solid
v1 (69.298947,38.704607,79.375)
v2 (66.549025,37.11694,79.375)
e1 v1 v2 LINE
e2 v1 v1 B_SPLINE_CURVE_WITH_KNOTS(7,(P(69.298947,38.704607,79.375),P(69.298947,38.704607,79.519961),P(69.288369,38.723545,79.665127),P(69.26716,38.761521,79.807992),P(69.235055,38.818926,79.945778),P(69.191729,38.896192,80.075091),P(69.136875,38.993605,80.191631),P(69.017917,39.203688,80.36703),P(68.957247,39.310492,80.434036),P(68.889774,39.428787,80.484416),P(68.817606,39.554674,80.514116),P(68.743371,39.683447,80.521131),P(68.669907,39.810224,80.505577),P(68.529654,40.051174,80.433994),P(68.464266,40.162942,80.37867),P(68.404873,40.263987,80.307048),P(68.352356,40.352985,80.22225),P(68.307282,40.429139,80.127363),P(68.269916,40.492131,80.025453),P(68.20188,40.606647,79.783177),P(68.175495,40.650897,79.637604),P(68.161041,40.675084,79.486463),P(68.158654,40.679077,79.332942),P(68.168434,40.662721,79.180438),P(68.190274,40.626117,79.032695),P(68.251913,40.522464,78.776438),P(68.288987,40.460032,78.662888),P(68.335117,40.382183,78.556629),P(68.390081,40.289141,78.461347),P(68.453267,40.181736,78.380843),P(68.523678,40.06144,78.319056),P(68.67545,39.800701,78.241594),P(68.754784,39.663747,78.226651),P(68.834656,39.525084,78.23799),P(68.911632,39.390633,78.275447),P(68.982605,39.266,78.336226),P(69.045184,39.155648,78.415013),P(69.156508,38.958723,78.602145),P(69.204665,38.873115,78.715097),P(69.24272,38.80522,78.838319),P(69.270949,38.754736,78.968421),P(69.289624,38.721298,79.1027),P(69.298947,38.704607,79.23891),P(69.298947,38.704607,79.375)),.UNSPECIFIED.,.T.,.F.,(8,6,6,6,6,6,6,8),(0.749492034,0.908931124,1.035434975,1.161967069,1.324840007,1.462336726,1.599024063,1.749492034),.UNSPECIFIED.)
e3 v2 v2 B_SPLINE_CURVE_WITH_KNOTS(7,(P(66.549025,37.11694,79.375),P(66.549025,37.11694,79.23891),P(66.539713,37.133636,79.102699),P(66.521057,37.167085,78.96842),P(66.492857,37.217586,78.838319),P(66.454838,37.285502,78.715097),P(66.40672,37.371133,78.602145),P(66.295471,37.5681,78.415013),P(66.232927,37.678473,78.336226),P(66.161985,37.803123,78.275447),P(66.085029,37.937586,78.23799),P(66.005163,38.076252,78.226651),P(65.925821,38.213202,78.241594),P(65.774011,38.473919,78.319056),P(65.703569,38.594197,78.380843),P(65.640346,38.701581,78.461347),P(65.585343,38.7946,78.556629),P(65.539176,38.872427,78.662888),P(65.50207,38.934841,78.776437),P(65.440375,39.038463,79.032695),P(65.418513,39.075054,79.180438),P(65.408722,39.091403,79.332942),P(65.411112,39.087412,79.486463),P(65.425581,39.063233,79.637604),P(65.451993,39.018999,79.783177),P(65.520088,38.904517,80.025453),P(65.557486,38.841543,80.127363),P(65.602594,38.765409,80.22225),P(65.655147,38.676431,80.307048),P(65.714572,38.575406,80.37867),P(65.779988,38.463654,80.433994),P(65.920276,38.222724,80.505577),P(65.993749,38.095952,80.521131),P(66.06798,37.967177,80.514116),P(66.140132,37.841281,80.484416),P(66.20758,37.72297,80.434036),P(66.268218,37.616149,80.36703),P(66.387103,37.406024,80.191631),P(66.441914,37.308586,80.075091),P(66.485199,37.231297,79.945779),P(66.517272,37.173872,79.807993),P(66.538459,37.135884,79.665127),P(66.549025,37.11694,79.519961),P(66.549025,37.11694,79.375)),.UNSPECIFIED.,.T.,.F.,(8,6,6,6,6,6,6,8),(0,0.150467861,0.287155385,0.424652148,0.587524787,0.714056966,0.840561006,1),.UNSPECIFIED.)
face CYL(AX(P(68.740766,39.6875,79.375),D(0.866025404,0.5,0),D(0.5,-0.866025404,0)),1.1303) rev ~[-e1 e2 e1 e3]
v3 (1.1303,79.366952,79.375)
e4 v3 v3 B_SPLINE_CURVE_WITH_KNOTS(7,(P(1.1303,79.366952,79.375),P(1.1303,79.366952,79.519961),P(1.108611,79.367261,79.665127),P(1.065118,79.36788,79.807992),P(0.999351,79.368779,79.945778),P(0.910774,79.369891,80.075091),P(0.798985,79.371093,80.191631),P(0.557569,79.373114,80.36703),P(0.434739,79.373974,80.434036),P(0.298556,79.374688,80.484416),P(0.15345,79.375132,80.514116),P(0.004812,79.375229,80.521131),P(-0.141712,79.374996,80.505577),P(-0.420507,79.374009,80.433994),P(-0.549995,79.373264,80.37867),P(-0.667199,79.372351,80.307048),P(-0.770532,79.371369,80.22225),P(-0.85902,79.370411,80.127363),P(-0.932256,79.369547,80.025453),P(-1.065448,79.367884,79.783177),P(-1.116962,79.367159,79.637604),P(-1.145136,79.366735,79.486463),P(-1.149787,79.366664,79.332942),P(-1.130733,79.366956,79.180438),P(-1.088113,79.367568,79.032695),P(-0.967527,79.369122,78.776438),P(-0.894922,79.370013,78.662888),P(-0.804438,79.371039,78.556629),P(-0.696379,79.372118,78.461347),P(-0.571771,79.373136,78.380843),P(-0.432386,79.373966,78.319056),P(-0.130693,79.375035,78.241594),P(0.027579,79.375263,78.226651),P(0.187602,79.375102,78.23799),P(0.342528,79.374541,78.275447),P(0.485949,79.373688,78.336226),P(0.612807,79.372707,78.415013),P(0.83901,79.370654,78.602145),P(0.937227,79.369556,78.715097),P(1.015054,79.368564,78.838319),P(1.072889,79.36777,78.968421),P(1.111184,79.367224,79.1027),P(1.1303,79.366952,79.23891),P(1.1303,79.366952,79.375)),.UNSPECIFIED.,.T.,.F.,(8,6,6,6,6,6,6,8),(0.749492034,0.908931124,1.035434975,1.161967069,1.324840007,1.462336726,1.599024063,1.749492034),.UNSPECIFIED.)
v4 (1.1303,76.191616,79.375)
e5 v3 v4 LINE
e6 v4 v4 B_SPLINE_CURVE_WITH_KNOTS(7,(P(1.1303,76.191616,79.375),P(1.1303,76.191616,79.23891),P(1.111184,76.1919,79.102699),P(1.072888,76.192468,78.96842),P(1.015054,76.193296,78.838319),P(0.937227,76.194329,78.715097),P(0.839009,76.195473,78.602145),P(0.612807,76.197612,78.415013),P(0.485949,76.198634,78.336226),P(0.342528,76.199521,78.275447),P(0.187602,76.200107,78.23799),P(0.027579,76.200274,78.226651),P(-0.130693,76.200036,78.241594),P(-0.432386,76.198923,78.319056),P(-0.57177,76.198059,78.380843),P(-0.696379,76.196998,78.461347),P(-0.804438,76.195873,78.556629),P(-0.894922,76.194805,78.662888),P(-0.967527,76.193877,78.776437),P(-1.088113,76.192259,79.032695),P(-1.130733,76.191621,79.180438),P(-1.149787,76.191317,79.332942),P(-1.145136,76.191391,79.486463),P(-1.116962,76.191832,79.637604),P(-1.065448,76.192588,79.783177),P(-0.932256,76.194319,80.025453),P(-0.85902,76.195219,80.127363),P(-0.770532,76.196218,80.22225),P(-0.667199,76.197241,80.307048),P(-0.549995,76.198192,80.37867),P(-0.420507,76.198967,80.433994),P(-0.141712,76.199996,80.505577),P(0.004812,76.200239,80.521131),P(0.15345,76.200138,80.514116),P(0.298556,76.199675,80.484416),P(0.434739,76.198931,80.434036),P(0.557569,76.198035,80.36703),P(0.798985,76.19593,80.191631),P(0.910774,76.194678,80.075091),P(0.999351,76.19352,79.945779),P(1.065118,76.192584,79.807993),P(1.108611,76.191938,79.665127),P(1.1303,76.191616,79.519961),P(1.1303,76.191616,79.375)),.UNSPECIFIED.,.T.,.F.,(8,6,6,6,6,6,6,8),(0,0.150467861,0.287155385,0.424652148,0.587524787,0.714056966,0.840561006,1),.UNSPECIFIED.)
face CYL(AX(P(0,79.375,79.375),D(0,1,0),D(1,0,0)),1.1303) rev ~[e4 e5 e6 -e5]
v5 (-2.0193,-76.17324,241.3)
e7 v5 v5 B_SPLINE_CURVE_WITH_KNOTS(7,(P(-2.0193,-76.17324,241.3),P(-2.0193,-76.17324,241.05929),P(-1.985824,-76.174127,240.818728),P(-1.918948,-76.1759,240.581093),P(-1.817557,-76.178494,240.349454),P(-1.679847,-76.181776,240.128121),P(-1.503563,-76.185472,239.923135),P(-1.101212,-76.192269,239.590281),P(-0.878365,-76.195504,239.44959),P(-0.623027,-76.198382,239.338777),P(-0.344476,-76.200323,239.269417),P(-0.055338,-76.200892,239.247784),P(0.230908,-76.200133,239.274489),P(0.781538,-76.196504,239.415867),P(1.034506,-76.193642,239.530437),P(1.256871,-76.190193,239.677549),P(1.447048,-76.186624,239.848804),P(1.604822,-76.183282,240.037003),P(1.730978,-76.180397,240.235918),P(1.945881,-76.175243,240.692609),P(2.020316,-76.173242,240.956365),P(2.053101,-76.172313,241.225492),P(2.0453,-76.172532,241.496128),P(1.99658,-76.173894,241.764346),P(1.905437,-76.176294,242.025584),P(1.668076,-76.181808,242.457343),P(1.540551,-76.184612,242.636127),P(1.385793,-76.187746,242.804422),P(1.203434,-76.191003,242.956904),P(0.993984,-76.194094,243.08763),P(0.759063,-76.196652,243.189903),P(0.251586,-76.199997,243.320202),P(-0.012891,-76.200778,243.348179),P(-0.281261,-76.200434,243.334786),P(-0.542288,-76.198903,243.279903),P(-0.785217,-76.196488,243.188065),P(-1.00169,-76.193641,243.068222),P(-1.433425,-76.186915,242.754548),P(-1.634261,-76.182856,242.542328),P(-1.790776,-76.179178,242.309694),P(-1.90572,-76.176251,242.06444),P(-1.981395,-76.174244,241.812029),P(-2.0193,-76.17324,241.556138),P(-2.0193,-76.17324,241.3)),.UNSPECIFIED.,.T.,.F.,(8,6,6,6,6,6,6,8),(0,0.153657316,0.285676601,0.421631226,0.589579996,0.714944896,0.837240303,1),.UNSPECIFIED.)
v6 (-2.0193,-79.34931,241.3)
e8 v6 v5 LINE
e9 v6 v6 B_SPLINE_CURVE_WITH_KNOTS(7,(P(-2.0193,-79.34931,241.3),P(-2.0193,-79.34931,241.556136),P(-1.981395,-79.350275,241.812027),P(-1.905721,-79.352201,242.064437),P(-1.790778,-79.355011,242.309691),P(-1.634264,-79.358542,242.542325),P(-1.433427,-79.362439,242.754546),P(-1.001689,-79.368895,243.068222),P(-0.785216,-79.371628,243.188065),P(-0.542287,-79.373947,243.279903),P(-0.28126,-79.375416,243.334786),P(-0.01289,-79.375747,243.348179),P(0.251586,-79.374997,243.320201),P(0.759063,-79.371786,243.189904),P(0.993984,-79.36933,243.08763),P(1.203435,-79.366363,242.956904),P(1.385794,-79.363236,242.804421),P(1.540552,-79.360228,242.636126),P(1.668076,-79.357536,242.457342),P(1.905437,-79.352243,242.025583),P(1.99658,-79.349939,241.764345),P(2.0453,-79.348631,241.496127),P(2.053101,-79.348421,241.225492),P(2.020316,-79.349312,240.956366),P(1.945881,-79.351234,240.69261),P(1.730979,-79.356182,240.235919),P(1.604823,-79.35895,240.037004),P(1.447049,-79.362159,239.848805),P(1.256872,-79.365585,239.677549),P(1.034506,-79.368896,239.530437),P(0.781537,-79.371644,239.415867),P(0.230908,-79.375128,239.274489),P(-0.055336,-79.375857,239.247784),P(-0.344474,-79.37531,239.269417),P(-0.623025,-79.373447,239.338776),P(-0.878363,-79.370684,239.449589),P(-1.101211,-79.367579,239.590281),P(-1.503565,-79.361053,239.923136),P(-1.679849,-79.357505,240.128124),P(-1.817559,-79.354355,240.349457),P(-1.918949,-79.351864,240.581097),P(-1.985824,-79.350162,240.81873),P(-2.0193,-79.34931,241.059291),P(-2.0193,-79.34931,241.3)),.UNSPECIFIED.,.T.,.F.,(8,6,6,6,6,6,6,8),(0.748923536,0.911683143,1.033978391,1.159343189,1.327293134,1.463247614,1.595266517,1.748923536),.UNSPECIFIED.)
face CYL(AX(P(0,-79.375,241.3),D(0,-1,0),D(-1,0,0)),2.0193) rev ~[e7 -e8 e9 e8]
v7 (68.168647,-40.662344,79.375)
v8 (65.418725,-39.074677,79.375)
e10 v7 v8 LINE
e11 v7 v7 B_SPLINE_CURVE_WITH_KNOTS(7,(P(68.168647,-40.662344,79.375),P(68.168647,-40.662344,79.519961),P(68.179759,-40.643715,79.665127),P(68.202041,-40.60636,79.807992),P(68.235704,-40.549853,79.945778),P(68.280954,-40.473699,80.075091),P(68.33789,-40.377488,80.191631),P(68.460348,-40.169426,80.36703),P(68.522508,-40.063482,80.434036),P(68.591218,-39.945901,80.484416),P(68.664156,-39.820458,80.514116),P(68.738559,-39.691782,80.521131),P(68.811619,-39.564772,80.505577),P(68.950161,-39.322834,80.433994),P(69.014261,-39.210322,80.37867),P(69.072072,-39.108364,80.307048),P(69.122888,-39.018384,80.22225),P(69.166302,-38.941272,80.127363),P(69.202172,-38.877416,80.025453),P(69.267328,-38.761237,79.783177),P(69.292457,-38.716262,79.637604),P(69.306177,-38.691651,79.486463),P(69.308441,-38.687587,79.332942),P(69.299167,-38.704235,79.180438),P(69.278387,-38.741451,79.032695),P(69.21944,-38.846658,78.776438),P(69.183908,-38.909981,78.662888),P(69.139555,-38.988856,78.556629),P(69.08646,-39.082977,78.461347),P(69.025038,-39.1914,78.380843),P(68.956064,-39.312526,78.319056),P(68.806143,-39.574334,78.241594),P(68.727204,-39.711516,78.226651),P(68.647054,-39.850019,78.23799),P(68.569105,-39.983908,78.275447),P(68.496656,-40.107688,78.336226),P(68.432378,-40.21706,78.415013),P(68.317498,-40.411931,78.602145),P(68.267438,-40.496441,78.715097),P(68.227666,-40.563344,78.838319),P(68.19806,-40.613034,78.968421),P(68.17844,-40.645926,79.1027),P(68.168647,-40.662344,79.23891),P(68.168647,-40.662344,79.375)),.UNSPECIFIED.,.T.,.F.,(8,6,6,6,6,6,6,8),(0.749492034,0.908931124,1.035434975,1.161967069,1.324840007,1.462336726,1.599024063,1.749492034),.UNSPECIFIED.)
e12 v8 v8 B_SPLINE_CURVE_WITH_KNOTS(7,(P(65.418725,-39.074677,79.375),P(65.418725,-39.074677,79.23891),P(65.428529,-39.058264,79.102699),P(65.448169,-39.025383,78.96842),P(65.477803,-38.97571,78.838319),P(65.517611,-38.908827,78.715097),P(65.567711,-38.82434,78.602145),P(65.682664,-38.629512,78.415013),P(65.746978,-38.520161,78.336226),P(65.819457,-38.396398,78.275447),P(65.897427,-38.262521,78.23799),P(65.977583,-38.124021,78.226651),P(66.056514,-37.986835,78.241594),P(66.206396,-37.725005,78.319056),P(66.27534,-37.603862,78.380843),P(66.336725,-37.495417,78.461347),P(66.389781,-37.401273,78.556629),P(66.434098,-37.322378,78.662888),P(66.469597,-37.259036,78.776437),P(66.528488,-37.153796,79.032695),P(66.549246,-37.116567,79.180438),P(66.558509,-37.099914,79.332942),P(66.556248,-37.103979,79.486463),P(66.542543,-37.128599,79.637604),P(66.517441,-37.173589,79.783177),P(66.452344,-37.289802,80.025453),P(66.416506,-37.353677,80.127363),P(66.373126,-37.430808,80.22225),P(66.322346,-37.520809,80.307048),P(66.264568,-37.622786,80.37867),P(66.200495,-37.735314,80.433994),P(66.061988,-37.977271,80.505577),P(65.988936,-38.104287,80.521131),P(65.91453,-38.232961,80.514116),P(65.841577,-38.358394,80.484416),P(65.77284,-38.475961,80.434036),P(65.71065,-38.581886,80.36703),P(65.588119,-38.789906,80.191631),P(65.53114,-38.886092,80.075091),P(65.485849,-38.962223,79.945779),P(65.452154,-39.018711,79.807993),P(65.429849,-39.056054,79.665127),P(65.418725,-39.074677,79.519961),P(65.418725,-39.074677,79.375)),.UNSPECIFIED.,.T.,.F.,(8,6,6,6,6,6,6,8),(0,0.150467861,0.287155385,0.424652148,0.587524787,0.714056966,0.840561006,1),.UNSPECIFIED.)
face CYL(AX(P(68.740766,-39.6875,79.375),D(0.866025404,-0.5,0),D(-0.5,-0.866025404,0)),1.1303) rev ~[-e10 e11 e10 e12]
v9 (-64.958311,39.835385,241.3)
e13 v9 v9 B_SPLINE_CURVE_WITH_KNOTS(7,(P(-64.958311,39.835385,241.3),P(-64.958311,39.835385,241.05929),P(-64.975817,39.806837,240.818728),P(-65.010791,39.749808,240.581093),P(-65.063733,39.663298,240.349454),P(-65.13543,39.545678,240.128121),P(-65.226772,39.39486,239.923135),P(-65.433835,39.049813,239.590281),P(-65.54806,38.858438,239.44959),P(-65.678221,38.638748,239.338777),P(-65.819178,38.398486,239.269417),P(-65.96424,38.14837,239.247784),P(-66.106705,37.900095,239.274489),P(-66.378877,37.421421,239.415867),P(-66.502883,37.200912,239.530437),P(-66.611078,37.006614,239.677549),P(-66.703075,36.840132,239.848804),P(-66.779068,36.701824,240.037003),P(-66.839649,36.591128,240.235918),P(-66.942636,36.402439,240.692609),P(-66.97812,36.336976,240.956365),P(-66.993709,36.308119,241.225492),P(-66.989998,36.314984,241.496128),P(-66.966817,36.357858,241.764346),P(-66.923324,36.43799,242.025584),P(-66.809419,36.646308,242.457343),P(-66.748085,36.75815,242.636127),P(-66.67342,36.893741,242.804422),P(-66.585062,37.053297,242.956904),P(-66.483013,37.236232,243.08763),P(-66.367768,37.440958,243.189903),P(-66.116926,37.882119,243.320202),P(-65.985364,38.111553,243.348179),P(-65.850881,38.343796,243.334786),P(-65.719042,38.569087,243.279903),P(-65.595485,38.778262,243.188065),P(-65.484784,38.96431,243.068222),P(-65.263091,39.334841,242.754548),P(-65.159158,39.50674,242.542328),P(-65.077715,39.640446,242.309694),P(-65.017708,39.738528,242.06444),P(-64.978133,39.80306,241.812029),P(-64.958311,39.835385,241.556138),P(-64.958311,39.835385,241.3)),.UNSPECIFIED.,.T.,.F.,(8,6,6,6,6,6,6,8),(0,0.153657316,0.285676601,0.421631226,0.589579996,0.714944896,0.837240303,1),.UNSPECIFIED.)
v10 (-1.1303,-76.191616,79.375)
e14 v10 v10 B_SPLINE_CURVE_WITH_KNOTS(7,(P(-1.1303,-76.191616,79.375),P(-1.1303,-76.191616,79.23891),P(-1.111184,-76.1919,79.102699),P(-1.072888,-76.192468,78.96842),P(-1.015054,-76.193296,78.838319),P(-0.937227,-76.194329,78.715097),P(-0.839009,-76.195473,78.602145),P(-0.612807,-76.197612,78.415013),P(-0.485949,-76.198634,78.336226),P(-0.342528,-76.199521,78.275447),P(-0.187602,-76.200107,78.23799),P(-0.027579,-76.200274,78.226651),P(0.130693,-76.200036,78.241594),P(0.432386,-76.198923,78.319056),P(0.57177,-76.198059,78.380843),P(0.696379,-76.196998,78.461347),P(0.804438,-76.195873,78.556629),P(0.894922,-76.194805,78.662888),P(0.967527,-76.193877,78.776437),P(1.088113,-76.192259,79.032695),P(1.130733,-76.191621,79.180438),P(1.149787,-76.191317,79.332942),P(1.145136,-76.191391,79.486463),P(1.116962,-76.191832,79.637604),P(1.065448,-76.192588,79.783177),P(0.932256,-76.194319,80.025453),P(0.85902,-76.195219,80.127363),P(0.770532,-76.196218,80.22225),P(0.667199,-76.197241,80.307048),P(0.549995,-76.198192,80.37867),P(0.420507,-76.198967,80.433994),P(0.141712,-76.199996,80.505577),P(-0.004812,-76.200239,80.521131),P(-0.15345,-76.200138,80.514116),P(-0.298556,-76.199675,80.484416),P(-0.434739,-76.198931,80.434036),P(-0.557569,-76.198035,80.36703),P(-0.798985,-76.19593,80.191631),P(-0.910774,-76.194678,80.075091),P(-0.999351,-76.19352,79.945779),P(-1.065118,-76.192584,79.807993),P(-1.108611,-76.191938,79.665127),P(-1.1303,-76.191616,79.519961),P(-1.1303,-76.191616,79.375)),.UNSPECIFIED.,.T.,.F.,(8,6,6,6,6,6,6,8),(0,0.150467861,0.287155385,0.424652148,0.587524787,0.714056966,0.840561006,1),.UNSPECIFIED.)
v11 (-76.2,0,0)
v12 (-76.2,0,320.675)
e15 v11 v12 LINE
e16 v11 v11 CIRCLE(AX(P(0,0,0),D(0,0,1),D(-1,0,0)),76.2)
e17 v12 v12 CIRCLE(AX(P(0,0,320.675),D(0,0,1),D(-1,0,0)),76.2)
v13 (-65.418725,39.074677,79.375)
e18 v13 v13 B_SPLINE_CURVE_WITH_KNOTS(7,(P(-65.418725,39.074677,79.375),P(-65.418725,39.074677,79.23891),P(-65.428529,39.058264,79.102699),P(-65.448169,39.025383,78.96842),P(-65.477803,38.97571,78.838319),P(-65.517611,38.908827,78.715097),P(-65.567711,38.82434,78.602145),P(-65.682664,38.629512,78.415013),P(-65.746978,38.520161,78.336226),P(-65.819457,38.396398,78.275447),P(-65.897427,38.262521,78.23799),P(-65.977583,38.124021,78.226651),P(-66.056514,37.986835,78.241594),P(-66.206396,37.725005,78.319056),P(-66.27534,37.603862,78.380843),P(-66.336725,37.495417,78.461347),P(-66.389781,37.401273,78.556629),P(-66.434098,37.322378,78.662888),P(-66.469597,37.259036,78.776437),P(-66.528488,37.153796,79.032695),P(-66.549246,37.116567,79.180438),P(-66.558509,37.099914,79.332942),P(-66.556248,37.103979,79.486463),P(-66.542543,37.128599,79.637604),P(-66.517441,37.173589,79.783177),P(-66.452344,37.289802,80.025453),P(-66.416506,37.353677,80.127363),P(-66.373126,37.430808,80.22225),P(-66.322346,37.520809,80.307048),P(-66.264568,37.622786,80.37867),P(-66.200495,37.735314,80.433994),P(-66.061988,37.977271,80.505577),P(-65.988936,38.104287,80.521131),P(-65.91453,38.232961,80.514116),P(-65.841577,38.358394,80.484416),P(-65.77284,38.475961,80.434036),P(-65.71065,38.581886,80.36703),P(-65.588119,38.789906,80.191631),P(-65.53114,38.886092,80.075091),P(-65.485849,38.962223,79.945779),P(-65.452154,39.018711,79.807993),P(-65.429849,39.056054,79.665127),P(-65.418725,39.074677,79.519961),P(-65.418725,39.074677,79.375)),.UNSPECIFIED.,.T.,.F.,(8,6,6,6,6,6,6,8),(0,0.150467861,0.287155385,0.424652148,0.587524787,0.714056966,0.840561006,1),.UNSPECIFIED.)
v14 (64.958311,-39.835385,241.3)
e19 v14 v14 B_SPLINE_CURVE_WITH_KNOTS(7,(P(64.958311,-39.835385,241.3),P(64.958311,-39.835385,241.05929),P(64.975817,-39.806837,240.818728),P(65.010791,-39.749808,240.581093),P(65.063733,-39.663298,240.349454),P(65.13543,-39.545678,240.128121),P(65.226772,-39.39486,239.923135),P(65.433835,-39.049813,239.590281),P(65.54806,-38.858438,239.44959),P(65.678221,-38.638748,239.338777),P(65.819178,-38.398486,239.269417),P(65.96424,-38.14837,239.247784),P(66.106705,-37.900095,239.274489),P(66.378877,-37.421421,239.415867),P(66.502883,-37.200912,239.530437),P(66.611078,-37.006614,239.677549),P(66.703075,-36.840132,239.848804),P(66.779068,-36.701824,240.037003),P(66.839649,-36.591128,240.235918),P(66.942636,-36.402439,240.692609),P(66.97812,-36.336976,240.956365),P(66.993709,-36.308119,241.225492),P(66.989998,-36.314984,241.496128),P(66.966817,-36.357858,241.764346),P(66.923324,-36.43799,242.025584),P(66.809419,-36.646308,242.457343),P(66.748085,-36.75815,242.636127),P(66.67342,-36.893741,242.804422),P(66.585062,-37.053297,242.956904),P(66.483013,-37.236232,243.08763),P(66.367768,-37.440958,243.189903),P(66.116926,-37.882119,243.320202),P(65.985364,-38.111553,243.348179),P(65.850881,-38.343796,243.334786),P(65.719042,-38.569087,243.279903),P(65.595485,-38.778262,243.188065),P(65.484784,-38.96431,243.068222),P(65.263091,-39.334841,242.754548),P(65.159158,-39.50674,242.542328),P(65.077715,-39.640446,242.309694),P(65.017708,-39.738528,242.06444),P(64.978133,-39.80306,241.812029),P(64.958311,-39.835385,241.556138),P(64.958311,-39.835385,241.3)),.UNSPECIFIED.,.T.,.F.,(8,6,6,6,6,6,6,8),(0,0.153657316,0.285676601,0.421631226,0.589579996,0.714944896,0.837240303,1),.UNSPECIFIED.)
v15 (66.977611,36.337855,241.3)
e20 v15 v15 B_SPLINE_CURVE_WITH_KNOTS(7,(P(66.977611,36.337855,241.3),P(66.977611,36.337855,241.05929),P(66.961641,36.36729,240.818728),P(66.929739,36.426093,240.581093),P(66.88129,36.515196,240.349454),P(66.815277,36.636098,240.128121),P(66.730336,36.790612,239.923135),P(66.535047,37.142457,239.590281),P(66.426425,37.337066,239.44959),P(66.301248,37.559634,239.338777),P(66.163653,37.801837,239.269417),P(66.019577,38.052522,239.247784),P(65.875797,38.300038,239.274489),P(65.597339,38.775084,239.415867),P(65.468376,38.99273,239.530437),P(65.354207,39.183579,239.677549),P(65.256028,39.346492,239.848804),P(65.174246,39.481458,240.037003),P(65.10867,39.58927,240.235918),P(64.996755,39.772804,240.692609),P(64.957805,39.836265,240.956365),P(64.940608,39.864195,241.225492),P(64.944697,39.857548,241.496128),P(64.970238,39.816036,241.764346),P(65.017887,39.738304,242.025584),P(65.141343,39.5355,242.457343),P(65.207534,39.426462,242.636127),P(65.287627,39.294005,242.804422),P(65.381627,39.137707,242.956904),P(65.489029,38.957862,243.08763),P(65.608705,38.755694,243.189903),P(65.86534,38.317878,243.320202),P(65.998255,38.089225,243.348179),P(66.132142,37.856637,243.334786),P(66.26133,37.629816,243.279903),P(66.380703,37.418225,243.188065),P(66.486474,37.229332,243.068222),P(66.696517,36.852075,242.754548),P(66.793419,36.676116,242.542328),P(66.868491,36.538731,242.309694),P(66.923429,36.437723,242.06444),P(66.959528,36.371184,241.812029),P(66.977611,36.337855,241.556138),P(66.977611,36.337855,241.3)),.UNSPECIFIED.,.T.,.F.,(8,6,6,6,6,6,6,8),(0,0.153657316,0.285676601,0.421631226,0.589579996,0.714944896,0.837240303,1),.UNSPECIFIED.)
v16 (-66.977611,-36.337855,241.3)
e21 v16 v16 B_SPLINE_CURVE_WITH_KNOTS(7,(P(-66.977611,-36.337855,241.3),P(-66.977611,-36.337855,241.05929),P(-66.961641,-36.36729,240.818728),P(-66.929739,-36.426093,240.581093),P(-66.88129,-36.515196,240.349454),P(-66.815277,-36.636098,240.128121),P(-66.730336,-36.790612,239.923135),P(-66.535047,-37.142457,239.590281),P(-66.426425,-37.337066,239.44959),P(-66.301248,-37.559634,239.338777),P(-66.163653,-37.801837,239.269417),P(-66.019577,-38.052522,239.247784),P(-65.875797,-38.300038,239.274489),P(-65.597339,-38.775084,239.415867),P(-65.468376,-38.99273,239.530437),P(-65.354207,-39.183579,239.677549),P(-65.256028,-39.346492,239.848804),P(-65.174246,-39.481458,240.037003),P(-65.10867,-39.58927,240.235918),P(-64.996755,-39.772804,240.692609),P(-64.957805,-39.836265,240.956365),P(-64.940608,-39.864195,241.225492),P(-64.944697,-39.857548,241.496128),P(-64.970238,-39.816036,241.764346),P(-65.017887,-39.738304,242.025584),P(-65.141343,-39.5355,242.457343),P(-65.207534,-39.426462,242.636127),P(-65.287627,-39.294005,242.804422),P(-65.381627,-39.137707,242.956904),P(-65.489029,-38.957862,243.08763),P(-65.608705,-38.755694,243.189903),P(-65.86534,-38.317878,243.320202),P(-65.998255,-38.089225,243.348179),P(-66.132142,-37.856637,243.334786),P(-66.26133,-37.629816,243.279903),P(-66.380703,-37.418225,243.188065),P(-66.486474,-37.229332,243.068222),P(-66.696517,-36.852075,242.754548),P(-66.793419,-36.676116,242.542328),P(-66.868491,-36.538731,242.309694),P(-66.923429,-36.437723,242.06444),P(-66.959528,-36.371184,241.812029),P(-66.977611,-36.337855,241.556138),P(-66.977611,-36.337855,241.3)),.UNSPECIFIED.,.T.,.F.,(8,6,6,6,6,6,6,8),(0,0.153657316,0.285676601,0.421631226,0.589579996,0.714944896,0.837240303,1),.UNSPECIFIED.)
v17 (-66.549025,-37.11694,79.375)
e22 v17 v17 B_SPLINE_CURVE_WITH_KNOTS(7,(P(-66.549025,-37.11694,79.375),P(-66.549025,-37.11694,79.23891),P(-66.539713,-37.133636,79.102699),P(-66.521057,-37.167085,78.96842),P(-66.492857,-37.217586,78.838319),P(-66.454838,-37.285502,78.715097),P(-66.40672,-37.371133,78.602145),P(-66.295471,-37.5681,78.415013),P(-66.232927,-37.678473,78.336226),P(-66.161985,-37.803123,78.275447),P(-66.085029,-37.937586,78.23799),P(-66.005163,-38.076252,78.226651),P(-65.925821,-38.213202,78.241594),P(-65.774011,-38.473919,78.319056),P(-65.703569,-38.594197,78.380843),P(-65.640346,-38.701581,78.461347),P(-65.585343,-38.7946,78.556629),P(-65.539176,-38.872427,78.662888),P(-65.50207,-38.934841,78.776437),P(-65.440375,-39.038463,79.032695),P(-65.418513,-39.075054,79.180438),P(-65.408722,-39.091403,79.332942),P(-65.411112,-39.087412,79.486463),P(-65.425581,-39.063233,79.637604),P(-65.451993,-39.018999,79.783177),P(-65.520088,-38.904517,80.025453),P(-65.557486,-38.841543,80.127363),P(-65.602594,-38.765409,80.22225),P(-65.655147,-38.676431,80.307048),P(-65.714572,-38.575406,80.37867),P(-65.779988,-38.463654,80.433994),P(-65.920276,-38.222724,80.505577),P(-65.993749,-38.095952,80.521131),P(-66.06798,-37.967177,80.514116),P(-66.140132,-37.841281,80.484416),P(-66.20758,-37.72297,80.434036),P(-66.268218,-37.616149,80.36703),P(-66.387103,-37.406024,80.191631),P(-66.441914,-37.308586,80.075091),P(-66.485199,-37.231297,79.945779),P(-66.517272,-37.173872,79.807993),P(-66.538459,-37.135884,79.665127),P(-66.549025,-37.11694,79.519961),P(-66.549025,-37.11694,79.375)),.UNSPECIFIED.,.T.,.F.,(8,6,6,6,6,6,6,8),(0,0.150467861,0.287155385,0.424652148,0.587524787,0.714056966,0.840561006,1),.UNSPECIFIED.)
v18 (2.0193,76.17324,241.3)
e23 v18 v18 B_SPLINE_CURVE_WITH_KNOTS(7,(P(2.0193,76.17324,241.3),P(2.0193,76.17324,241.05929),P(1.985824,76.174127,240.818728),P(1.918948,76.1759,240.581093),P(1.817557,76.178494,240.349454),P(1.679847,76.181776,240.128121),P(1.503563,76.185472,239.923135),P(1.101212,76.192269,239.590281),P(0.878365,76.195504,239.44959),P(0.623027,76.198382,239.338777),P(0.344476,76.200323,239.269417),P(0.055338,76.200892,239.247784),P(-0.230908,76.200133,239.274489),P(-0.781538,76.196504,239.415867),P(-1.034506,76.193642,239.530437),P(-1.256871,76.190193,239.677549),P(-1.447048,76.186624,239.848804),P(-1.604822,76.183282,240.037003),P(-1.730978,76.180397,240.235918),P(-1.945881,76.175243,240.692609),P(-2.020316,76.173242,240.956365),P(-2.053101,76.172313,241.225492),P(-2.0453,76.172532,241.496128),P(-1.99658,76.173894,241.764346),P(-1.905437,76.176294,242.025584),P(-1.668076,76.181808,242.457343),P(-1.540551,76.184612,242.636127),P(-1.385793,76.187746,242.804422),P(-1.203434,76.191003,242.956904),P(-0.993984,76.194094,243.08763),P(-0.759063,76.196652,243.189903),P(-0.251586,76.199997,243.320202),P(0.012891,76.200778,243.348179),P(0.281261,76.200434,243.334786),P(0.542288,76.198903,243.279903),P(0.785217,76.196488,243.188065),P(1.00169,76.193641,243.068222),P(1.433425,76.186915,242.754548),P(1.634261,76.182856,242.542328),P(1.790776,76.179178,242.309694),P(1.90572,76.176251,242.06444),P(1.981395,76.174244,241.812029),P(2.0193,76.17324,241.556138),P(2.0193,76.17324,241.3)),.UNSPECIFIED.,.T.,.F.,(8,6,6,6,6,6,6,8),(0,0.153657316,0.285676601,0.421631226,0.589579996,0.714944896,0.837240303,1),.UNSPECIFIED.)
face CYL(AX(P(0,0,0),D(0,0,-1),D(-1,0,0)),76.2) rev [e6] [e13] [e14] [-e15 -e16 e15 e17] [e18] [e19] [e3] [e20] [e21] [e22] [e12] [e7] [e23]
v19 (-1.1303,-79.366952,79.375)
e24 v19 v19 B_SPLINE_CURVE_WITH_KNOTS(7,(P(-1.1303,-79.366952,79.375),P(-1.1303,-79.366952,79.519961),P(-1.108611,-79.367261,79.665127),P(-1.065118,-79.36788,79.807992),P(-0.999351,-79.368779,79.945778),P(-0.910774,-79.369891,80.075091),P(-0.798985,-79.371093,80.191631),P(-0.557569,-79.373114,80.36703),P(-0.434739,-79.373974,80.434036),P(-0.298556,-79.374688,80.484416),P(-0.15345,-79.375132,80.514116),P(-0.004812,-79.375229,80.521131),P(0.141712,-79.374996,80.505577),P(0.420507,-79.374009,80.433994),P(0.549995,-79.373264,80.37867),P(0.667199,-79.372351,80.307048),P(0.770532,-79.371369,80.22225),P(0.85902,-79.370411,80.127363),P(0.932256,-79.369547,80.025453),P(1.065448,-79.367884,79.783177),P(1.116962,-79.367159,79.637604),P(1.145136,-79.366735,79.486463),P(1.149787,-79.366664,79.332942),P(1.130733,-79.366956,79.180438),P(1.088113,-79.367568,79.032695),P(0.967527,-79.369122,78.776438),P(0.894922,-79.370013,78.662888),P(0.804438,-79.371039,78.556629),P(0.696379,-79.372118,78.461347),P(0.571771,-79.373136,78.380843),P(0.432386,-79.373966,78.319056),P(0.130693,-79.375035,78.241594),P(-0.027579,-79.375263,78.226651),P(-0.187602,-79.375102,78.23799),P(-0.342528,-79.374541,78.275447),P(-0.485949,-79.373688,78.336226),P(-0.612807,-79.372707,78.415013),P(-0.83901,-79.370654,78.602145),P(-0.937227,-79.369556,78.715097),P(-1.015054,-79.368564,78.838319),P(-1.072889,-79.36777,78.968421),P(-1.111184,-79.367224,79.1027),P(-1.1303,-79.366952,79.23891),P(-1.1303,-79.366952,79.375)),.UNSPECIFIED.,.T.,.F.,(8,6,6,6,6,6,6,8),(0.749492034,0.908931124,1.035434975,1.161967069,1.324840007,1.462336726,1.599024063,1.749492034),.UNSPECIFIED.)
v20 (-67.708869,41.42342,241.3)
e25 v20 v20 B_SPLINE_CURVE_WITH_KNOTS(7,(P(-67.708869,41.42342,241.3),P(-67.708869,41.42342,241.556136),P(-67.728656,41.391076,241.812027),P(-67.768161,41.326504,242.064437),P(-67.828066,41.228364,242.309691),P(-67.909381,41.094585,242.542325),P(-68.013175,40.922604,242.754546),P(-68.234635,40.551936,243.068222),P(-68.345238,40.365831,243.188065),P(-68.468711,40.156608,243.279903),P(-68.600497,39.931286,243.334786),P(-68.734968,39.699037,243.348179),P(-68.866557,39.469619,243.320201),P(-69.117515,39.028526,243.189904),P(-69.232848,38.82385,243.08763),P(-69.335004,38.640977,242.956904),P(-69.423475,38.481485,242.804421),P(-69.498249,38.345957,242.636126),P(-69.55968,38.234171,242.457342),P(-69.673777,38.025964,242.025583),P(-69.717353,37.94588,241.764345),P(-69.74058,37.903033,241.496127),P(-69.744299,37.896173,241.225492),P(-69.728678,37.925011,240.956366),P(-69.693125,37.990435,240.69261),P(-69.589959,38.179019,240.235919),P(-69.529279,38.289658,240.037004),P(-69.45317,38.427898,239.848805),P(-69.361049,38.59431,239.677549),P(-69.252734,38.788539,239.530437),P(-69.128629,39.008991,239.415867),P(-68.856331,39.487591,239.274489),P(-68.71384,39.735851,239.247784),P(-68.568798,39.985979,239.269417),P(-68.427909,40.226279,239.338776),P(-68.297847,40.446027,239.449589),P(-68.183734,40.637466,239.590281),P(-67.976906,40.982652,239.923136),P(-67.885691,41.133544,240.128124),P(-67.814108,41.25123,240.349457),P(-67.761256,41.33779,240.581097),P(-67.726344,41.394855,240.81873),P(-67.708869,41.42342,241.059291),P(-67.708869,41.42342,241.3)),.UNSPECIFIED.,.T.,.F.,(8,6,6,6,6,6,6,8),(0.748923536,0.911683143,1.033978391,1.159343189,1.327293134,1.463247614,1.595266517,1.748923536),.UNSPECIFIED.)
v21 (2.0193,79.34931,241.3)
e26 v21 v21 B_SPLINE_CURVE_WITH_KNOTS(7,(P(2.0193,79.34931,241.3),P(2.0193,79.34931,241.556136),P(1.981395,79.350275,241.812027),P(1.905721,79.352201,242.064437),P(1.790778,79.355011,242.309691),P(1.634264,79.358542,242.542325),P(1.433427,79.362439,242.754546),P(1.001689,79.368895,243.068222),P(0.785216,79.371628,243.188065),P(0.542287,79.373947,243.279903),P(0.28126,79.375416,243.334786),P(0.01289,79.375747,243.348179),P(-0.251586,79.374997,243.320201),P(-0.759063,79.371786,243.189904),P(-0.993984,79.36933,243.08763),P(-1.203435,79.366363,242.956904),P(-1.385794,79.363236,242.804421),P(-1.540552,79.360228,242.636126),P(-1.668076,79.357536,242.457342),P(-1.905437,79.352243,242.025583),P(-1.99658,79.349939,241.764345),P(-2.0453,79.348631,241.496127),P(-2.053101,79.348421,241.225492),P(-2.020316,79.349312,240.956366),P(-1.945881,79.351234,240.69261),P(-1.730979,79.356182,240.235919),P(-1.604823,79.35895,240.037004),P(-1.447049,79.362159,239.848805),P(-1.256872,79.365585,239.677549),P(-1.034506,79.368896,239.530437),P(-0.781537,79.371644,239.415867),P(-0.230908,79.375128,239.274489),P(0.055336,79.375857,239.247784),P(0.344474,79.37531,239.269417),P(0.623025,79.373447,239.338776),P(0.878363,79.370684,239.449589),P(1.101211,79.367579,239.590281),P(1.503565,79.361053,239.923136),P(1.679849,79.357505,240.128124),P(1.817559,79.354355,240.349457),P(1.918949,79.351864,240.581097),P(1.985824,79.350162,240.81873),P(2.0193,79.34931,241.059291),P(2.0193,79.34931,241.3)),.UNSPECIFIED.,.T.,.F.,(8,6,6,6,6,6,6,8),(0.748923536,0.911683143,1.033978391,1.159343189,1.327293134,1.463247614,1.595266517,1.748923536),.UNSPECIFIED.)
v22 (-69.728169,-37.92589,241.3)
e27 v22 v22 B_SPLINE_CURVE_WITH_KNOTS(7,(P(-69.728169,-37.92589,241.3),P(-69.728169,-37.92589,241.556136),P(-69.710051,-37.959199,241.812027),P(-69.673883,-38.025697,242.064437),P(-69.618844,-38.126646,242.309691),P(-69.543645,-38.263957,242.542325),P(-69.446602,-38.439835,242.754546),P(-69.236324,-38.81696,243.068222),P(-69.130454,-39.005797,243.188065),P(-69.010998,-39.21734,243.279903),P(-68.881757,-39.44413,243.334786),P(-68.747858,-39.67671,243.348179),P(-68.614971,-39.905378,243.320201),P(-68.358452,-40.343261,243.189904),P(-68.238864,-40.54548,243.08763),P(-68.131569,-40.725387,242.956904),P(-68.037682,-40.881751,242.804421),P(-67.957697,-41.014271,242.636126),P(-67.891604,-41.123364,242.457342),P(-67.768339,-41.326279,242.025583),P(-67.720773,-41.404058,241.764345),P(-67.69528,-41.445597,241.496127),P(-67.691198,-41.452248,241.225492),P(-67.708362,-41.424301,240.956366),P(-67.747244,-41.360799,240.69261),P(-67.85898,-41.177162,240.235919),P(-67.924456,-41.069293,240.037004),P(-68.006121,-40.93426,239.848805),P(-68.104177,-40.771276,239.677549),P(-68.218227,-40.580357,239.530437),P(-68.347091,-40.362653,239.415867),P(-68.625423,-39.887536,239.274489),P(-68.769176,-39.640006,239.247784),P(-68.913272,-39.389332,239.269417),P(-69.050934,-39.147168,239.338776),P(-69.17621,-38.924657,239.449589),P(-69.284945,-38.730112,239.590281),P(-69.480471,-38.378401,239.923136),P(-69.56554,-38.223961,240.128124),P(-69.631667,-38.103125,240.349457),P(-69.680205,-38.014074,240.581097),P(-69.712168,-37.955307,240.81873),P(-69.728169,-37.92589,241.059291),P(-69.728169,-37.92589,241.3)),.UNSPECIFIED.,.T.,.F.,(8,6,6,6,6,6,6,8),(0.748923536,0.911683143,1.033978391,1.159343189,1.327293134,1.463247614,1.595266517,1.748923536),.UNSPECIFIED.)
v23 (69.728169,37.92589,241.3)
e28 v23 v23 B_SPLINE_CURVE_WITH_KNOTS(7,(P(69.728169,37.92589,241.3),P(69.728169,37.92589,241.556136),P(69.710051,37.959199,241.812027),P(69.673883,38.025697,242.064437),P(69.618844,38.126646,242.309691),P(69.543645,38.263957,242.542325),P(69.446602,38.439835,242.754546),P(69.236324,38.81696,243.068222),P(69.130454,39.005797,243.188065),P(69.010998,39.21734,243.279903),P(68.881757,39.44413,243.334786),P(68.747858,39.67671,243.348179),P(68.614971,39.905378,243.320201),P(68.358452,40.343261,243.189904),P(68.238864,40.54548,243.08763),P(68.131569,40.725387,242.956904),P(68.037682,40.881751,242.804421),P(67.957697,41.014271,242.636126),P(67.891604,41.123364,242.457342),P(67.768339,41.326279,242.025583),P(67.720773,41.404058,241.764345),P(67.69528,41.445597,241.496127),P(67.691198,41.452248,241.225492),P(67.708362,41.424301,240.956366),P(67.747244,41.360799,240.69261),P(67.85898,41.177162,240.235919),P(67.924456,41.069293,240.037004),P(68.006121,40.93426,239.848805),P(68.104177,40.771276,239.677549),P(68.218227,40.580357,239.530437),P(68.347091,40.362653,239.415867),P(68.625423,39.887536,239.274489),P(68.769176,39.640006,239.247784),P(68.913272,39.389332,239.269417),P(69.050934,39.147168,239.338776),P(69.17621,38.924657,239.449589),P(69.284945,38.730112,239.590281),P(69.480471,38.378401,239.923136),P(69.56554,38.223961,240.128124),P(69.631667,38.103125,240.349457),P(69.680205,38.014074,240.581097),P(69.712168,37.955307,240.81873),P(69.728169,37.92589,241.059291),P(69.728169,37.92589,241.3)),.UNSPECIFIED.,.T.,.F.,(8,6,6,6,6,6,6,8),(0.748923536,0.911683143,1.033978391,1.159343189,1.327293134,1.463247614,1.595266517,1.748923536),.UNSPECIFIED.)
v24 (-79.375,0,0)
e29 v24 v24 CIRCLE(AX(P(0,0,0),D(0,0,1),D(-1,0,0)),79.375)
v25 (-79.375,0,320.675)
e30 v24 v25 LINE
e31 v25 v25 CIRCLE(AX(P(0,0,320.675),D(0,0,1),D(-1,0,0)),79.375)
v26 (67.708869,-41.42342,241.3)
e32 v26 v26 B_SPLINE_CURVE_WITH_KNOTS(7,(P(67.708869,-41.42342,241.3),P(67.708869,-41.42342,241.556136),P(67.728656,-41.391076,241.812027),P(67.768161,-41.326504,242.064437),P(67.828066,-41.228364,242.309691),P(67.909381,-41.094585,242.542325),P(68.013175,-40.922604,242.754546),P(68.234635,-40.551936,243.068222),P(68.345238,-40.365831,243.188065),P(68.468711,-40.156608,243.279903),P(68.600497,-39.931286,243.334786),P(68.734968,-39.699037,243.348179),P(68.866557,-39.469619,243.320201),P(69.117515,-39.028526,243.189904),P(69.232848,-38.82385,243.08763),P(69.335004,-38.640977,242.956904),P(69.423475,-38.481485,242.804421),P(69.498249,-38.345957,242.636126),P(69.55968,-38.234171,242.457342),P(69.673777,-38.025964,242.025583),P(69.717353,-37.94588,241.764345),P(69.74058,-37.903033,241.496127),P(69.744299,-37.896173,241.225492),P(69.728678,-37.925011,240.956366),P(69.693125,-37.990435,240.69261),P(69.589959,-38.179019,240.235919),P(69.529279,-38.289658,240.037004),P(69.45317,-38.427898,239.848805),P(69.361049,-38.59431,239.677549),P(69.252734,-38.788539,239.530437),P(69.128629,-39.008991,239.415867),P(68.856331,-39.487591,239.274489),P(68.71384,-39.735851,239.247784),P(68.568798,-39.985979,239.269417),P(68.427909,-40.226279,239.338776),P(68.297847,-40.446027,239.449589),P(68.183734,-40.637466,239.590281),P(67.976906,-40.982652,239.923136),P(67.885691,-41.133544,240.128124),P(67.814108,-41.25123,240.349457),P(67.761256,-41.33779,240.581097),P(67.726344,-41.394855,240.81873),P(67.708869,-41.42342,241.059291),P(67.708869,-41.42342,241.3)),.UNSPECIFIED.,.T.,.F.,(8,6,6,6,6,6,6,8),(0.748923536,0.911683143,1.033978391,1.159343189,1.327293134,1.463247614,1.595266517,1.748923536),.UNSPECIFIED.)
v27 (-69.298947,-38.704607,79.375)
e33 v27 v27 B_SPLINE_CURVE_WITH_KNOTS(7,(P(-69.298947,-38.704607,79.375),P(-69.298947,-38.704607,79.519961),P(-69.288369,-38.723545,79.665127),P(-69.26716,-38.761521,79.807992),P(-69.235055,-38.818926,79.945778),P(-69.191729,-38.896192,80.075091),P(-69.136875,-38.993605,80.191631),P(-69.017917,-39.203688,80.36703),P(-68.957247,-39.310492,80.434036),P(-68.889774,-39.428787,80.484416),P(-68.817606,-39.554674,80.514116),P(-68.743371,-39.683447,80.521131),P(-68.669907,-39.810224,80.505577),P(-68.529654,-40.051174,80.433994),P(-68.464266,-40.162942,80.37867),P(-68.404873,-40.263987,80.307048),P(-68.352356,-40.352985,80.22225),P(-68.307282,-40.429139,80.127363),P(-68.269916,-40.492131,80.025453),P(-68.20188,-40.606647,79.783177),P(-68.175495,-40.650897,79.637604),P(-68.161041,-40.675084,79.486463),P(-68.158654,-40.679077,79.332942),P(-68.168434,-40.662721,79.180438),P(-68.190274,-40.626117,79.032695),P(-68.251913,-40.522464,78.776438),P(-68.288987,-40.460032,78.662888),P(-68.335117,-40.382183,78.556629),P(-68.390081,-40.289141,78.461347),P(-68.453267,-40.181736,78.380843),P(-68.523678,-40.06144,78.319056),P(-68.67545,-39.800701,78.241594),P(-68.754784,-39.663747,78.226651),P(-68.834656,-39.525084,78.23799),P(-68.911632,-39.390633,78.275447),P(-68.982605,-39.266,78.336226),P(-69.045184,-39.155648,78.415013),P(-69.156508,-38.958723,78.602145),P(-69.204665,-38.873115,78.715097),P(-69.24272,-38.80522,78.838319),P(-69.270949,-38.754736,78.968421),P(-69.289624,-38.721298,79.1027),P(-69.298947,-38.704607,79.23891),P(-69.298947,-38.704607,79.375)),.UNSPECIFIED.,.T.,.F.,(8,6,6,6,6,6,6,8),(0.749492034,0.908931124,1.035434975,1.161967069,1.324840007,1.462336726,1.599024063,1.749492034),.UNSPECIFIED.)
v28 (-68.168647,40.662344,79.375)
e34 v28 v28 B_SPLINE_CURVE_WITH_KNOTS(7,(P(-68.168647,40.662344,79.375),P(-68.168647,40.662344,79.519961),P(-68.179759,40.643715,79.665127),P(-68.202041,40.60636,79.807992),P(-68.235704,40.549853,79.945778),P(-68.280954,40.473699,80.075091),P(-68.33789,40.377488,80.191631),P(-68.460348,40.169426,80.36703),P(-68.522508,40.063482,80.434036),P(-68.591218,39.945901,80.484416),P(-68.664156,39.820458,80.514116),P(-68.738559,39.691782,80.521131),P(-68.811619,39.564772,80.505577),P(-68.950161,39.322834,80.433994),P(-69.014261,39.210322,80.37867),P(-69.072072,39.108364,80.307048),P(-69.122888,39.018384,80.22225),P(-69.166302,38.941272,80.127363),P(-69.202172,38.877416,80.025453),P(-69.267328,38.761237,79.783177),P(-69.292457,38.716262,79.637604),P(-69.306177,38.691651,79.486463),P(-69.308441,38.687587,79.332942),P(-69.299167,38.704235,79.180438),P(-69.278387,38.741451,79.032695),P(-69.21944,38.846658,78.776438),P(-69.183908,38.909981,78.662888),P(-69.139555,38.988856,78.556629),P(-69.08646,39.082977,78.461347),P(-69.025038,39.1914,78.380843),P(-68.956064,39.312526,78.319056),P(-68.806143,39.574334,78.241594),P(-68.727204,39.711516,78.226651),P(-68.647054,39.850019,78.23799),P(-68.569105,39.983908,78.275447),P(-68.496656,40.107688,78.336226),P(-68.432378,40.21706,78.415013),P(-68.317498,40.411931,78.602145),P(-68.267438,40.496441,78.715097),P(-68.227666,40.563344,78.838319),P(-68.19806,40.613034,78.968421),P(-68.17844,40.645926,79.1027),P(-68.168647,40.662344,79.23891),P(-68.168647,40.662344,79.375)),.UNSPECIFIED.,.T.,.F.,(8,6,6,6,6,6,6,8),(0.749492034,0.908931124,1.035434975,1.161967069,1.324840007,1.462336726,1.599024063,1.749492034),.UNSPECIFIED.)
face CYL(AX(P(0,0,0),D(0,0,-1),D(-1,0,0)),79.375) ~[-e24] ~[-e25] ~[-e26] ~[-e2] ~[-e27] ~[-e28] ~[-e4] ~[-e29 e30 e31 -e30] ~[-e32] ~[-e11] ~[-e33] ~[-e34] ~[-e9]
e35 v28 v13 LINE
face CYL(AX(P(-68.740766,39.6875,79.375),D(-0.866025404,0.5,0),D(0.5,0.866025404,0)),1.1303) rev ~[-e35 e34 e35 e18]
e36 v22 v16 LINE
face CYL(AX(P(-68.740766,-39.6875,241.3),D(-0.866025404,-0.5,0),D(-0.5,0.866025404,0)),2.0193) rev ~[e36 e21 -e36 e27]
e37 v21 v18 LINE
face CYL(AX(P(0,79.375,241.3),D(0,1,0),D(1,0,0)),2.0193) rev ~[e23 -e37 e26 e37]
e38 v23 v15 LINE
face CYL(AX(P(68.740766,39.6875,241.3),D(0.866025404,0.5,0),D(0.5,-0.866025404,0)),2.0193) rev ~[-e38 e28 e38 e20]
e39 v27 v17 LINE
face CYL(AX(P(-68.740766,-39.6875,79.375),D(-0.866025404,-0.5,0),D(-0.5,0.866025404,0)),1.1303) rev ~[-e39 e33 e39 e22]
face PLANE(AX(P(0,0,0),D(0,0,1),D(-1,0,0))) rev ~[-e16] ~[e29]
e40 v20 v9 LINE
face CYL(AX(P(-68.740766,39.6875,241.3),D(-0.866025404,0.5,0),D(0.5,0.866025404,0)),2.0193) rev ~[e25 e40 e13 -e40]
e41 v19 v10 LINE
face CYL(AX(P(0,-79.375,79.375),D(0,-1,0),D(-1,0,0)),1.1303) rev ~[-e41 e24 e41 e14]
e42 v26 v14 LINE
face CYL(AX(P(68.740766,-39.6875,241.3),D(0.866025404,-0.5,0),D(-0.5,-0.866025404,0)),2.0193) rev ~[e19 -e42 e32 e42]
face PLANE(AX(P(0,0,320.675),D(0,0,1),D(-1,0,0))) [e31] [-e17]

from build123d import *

# Parameters (mm, degrees)
SKETCH1_R                   = 79.375
SKETCH1_R_2                 = 76.2
BOSS_EXTRUDE1_DEPTH         = 320.675
F_4_40_TAPPED_HOLE1_REACH   = 368.517
F_4_40_TAPPED_HOLE1_BORE_R  = 1.1303
F_10_32_TAPPED_HOLE1_REACH  = 368.517
F_10_32_TAPPED_HOLE1_BORE_R = 2.0193
CIRPATTERN1_COUNT           = 6


with BuildPart() as part:
    # Sketch1 → Boss-Extrude1 (new body)
    with BuildSketch(Plane.XY):
        with Locations(Location((0, 0, 0), (0, 0, 180))):
            Circle(SKETCH1_R)
        with Locations(Location((0, 0, 0), (0, 0, 180))):
            Circle(SKETCH1_R_2, mode=Mode.SUBTRACT)
    extrude(amount=BOSS_EXTRUDE1_DEPTH)

    # #4-40 Tapped Hole1 bore → #4-40 Tapped Hole1 (cut, up to next)
    with BuildSketch(Plane(origin=(0, 79.375, 0), x_dir=(1, 0, 0), z_dir=(0, 1, 0)), mode=Mode.PRIVATE) as f_4_40_tapped_hole1_sk1:
        with Locations((0, -79.375)):
            Circle(F_4_40_TAPPED_HOLE1_BORE_R)
    f_4_40_tapped_hole1_tool1 = extrude(f_4_40_tapped_hole1_sk1.sketch, amount=-F_4_40_TAPPED_HOLE1_REACH, mode=Mode.PRIVATE) & part.part
    f_4_40_tapped_hole1 = f_4_40_tapped_hole1_tool1.solids().sort_by_distance((0, 79.375, 79.375))[0]
    add(f_4_40_tapped_hole1, mode=Mode.SUBTRACT)

    # #10-32 Tapped Hole1 bore → #10-32 Tapped Hole1 (cut, up to next)
    with BuildSketch(Plane(origin=(0, 79.375, 0), x_dir=(1, 0, 0), z_dir=(0, 1, 0)), mode=Mode.PRIVATE) as f_10_32_tapped_hole1_sk1:
        with Locations((0, -241.3)):
            Circle(F_10_32_TAPPED_HOLE1_BORE_R)
    f_10_32_tapped_hole1_tool1 = extrude(f_10_32_tapped_hole1_sk1.sketch, amount=-F_10_32_TAPPED_HOLE1_REACH, mode=Mode.PRIVATE) & part.part
    f_10_32_tapped_hole1 = f_10_32_tapped_hole1_tool1.solids().sort_by_distance((0, 79.375, 241.3))[0]
    add(f_10_32_tapped_hole1, mode=Mode.SUBTRACT)

    # CirPattern1: #4-40 Tapped Hole1, #10-32 Tapped Hole1 ×6 about axis
    cirpattern1_axis = Axis((0, 0, 320.675), (0, 0, 1))
    add([f_4_40_tapped_hole1.rotate(cirpattern1_axis, i * 360 / CIRPATTERN1_COUNT) for i in range(1, CIRPATTERN1_COUNT)], mode=Mode.SUBTRACT)
    add([f_10_32_tapped_hole1.rotate(cirpattern1_axis, i * 360 / CIRPATTERN1_COUNT) for i in range(1, CIRPATTERN1_COUNT)], mode=Mode.SUBTRACT)


solid = part.part
